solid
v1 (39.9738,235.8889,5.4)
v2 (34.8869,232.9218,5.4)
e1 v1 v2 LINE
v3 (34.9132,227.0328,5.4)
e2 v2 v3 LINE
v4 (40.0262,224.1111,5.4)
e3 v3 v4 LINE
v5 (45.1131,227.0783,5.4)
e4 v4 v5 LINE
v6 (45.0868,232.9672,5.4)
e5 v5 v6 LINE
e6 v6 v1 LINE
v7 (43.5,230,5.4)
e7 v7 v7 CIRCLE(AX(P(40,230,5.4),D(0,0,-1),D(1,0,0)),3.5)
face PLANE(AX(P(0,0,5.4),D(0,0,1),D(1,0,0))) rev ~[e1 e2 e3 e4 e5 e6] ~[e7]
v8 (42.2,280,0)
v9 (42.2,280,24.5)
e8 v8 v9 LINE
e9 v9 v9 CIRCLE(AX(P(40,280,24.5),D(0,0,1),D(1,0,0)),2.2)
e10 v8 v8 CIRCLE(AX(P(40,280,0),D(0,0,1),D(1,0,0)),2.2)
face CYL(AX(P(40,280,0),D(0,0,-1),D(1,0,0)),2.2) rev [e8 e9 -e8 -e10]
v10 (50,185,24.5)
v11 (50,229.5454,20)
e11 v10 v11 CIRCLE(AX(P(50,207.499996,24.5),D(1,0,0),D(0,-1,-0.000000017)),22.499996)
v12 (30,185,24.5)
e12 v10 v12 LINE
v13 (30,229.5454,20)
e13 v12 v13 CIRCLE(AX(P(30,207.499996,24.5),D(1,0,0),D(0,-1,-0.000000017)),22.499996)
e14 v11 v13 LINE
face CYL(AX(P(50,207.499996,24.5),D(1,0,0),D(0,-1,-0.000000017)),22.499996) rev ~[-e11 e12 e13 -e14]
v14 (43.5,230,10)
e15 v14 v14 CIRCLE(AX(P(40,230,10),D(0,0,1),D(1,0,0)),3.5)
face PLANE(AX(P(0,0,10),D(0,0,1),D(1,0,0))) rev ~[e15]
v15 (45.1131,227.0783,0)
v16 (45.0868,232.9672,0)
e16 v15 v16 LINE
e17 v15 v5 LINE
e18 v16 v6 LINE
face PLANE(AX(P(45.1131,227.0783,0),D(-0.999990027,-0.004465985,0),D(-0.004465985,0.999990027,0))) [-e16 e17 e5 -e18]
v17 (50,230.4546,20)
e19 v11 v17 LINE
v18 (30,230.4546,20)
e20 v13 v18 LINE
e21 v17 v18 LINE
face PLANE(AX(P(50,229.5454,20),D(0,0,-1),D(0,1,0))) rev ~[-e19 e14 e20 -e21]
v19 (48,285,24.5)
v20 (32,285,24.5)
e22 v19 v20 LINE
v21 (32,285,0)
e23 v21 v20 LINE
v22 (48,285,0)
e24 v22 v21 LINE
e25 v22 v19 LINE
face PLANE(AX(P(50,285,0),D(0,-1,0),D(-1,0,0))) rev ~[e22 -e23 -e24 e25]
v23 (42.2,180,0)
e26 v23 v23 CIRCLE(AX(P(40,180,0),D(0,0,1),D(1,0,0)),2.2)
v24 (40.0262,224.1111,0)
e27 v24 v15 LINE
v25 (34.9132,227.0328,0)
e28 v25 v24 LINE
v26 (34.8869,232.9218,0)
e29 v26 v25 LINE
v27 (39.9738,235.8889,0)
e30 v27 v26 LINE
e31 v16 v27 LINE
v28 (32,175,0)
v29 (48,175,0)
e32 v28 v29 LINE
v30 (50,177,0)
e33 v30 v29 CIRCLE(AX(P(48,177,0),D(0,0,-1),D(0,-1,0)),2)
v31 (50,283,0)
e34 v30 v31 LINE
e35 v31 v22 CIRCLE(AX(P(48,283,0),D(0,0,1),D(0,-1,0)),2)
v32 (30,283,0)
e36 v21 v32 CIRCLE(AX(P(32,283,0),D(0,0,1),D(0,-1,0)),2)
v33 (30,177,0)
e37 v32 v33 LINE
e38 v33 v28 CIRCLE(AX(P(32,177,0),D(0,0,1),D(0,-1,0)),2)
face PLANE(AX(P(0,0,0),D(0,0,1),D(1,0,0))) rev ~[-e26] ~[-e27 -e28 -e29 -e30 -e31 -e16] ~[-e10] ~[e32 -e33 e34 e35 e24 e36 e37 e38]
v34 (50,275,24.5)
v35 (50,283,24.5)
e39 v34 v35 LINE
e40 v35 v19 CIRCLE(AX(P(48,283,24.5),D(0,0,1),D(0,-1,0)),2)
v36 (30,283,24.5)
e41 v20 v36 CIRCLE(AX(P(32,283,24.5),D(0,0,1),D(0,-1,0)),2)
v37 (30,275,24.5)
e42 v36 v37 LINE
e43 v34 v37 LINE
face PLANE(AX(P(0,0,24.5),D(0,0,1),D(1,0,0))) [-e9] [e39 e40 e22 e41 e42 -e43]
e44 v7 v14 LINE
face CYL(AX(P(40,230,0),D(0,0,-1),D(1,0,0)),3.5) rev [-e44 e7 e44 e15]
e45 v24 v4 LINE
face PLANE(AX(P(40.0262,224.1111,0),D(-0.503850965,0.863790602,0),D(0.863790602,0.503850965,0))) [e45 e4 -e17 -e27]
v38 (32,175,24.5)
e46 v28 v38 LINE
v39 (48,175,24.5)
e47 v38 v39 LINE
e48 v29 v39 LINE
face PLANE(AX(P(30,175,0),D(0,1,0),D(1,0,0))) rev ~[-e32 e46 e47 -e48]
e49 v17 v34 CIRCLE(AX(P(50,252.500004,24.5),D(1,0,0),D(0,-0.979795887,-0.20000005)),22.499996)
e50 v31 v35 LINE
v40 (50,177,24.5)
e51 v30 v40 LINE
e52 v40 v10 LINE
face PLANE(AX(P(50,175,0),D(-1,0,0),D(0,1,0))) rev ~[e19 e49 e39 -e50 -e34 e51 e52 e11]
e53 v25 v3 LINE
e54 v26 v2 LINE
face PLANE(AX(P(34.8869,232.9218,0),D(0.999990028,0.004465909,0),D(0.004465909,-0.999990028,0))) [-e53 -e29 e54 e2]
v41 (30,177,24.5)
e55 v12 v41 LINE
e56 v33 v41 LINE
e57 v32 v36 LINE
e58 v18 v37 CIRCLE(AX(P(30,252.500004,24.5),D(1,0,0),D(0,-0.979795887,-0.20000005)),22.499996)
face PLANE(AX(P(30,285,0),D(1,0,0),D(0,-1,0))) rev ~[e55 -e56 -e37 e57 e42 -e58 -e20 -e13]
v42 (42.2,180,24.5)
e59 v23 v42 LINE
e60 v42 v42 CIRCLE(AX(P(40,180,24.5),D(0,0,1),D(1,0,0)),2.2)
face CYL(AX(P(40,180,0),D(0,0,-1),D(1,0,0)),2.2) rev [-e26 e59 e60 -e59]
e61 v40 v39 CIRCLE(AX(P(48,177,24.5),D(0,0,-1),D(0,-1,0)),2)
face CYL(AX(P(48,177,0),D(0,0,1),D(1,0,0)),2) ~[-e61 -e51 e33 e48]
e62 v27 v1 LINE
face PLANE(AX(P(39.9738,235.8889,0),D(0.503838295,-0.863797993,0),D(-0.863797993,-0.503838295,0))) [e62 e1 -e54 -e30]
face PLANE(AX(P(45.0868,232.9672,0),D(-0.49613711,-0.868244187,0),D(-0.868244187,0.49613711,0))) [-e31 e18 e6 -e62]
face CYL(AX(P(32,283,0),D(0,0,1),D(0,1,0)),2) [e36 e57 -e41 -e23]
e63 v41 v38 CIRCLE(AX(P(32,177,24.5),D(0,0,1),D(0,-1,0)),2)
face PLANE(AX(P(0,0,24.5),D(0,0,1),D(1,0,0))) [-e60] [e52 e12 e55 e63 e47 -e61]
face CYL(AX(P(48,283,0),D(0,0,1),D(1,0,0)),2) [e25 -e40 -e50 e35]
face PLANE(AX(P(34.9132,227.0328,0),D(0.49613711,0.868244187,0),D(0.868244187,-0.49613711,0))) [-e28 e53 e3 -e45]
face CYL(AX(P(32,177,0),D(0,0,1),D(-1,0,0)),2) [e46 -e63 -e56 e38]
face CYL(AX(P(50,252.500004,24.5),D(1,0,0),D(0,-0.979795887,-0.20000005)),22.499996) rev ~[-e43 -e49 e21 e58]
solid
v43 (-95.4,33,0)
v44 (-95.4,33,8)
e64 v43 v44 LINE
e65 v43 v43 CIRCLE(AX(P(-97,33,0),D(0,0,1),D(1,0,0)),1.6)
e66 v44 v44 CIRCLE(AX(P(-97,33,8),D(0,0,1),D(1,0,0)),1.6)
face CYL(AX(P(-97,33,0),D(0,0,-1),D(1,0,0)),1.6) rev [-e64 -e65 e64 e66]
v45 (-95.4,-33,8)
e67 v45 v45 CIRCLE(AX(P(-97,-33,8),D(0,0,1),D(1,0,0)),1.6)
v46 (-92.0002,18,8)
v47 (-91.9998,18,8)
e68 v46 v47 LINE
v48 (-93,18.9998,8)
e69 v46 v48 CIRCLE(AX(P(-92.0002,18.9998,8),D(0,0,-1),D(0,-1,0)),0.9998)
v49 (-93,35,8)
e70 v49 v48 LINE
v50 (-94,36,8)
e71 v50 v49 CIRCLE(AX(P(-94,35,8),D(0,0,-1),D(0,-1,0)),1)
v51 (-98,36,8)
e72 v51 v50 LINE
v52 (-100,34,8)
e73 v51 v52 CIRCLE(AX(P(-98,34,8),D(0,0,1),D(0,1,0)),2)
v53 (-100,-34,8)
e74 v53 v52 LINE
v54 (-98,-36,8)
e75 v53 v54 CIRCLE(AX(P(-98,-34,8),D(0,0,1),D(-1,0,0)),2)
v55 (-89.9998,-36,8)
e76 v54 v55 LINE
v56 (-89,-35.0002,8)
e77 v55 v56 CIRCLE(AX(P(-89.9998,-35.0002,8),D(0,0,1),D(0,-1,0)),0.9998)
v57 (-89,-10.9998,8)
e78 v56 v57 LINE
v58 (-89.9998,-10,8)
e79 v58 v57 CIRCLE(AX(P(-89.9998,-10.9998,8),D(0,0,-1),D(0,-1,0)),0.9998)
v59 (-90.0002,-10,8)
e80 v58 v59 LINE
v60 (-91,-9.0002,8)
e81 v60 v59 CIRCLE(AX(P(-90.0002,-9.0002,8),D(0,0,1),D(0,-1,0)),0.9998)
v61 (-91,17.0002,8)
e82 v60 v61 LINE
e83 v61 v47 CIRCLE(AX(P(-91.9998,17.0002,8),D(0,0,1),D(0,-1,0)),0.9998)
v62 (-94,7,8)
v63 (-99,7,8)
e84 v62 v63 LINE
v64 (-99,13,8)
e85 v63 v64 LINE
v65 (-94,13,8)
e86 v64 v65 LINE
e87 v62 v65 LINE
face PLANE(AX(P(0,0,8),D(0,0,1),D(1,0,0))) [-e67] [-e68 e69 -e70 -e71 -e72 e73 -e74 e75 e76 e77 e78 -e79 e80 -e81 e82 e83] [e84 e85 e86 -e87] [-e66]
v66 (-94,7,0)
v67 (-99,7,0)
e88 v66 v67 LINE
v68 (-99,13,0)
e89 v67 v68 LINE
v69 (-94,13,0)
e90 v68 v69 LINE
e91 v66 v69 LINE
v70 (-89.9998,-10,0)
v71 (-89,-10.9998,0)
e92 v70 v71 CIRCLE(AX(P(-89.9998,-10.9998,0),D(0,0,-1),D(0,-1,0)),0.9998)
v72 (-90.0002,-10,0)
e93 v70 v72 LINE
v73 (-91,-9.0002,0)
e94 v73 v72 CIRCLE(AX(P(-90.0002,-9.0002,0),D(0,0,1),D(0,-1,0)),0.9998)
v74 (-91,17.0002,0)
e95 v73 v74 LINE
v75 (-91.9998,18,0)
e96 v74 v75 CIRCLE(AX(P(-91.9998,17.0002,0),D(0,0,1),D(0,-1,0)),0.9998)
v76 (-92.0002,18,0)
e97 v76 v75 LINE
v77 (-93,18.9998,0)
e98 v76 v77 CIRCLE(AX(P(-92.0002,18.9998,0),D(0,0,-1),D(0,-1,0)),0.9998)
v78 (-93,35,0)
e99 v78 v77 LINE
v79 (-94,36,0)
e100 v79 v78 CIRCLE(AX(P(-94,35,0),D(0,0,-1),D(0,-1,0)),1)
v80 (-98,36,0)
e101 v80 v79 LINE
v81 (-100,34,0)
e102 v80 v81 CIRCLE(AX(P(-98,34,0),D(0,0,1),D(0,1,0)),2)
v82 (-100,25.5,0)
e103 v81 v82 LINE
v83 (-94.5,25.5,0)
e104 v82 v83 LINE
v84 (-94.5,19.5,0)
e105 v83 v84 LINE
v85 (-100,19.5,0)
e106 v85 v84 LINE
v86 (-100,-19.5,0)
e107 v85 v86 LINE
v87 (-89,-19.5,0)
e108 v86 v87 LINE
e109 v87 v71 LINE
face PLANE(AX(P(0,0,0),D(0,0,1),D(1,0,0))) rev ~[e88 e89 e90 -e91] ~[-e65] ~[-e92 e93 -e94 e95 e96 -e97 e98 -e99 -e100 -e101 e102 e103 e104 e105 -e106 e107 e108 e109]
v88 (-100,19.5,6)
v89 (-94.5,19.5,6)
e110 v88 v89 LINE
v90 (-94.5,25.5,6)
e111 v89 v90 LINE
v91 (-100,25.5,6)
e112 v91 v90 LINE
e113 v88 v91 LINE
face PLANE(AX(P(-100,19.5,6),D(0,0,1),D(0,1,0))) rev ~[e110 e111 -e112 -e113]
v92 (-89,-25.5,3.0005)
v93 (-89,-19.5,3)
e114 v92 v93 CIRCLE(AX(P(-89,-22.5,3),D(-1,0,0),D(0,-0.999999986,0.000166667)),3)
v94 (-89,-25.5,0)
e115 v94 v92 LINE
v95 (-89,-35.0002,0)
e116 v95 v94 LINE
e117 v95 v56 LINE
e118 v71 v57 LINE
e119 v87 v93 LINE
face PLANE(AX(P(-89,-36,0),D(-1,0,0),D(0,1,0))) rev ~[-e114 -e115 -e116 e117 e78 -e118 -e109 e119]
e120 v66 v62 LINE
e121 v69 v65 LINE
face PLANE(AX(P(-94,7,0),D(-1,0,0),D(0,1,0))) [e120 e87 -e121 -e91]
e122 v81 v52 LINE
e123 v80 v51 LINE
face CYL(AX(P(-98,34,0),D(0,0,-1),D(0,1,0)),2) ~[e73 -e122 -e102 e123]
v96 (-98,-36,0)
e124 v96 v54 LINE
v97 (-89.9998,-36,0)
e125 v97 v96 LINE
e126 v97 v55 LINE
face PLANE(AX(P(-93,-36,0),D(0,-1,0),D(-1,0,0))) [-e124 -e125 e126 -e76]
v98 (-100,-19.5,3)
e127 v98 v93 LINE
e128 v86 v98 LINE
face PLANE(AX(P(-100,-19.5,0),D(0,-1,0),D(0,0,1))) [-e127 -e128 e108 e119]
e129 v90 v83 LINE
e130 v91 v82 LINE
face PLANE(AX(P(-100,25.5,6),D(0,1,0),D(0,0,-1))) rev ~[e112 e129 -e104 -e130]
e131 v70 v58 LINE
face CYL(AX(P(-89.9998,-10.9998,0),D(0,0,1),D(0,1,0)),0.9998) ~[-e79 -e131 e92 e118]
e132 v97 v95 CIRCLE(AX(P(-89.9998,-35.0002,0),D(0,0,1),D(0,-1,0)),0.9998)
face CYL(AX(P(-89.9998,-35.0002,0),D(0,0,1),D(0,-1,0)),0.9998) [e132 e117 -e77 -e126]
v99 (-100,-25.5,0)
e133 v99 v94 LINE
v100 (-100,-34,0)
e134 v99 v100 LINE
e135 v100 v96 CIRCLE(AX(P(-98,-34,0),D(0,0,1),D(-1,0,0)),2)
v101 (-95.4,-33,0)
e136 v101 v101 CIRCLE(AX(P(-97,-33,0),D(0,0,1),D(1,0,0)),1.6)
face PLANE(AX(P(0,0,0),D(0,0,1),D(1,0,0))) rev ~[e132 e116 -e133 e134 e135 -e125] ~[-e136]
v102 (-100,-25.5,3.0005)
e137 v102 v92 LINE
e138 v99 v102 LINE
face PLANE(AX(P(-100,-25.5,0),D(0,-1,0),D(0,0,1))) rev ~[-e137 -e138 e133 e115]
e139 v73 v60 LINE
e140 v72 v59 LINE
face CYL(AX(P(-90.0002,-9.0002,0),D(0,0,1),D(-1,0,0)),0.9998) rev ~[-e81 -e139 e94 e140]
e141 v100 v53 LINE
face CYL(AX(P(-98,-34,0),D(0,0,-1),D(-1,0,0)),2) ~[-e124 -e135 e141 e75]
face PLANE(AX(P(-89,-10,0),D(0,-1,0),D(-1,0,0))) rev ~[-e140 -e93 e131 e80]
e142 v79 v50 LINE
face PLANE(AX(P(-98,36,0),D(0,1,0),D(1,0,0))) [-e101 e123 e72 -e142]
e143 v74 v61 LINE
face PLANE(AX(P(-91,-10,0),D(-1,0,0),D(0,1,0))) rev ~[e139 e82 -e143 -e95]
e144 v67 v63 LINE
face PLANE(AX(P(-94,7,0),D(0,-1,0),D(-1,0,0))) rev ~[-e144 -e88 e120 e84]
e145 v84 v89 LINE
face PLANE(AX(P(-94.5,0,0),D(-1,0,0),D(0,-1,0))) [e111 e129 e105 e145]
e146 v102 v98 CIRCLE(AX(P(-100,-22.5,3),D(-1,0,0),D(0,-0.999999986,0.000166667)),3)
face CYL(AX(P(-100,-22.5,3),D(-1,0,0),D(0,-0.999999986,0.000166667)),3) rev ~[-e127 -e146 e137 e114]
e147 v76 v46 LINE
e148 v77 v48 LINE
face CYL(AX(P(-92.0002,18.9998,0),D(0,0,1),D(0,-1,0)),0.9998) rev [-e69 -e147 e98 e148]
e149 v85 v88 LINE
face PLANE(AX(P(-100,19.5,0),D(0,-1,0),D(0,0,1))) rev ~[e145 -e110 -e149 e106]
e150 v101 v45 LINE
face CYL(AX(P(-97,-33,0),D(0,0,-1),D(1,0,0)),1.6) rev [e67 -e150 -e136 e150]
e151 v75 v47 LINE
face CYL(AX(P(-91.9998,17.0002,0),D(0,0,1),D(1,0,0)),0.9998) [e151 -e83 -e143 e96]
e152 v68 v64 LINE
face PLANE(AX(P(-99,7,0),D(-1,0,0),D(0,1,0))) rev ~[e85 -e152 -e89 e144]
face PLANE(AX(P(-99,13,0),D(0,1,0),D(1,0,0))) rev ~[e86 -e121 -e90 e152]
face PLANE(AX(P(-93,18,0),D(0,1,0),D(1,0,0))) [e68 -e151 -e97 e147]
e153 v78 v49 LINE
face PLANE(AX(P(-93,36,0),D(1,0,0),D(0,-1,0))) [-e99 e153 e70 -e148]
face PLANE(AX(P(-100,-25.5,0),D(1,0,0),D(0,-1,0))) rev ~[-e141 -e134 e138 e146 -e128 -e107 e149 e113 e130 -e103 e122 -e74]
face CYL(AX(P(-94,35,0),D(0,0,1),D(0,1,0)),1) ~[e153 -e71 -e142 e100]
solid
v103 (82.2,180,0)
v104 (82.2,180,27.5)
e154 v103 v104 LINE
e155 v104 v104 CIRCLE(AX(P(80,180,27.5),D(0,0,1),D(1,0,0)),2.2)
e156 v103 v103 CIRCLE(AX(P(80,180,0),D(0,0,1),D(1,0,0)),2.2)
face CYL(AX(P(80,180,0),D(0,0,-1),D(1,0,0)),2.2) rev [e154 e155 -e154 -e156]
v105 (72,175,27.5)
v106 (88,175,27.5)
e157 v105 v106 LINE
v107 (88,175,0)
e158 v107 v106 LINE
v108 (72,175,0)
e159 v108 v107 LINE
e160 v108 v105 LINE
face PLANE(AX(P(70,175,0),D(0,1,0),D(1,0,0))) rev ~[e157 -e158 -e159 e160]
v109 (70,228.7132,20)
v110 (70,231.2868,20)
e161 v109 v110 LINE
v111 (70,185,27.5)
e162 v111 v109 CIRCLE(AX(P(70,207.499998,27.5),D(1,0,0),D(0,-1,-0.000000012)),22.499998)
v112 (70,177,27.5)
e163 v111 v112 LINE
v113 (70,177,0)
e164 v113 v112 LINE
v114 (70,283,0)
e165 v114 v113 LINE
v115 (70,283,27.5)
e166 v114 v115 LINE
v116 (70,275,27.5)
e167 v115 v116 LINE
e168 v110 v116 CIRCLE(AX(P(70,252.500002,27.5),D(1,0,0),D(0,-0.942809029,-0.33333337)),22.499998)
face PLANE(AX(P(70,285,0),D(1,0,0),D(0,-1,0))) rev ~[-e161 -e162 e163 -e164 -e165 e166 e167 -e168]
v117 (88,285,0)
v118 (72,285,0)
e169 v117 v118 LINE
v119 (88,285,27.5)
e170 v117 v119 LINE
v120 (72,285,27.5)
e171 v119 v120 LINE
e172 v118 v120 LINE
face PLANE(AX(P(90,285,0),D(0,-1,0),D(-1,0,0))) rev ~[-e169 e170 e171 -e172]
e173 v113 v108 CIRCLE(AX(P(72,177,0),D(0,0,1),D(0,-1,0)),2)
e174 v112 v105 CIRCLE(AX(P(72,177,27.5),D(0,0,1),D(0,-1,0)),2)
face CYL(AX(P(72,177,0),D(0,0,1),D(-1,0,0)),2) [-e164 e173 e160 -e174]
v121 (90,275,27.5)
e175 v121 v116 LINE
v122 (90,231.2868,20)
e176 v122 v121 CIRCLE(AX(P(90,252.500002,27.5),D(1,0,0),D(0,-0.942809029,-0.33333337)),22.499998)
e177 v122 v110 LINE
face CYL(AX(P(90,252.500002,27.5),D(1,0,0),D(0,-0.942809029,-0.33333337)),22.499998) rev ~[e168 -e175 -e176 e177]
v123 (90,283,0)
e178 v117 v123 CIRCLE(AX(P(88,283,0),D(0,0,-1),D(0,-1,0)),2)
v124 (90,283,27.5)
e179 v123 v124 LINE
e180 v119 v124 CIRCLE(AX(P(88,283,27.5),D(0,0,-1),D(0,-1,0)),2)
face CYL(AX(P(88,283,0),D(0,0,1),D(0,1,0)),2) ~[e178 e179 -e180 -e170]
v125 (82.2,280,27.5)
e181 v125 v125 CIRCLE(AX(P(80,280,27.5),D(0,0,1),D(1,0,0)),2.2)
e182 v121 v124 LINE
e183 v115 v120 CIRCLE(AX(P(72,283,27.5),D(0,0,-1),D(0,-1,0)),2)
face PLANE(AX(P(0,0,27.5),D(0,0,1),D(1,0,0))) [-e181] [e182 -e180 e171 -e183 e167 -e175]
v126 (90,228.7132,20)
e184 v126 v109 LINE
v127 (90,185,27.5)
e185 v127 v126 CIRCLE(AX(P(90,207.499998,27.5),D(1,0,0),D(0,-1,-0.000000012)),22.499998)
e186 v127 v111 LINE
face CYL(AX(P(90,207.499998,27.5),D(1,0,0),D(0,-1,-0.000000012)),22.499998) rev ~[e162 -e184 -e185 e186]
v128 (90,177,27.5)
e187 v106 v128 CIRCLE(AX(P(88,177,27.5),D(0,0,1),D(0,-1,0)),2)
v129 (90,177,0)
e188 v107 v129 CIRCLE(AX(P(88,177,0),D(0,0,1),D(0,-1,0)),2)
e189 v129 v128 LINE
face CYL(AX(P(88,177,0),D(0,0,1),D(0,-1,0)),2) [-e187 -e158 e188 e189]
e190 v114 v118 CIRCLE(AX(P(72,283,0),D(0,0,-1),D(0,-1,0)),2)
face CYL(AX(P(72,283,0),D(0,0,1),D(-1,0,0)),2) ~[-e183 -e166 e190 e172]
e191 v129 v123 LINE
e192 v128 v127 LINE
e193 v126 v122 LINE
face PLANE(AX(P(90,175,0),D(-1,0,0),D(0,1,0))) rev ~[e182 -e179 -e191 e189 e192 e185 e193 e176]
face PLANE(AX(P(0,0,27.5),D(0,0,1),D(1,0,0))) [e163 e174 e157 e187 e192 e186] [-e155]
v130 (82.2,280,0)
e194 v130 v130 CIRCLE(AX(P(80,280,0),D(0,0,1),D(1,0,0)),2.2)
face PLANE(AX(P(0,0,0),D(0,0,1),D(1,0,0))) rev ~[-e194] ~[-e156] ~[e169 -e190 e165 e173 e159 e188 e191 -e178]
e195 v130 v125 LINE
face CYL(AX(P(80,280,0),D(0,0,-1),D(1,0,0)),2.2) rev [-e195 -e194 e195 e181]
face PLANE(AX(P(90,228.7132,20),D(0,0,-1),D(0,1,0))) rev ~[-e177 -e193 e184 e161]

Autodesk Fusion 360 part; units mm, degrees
sketch "スケッチ1" plane through (0, 0, 0) normal (0, 0, 1) x (1, 0, 0)
  line L0 (21.5, 36) -> (-21.5, 36)
  line L1 (-23.5, 34) -> (-23.5, -34)
  line L2 (-21.5, -36) -> (21.5, -36)
  circle A0 centre (-20.5, -33) radius 1.6
  circle A1 centre (20.5, -33) radius 1.6
  arc A2 (-23.5, -34) -> (-21.5, -36) centre (-21.5, -34) ccw
  arc A3 (-21.5, 36) -> (-23.5, 34) centre (-21.5, 34) ccw
  arc A4 (23.5, 34) -> (21.5, 36) centre (21.5, 34) ccw
  arc A5 (21.5, -36) -> (23.5, -34) centre (21.5, -34) ccw
  line L3 (21.5, -15) -> (16, -15)
  line L4 (23.5, -34) -> (23.5, -17)
  arc A6 (15.5314, -14.9843) -> (16, -15) centre (16, -8) ccw
  arc A7 (23.5, -17) -> (21.5, -15) centre (21.5, -17) ccw
  arc A8 (21.5, -1) -> (22.3523, -0.8093) centre (21.5, 1) ccw
  line L5 (6, -6) -> (6, 10)
  line L6 (15, 19) -> (21.5, 19)
  line L7 (23.5, 21) -> (23.5, 34)
  arc A9 (6, -6) -> (15.5314, -14.9843) centre (15, -6) ccw
  arc A10 (15, 19) -> (6, 10) centre (15, 10) ccw
  arc A11 (21.5, 19) -> (23.5, 21) centre (21.5, 21) ccw
  line L8 (30, 34) -> (30, -34)
  line L9 (32, -36) -> (75, -36)
  arc A12 (32, 36) -> (30, 34) centre (32, 34) ccw
  arc A13 (30, -34) -> (32, -36) centre (32, -34) ccw
  circle A14 centre (33, -33) radius 1.6
  line L10 (77, 21) -> (77, 34)
  arc A15 (77, 34) -> (75, 36) centre (75, 34) ccw
  line L11 (77, -34) -> (77, 21)
  circle A16 centre (74, -33) radius 1.6
  line L12 (75, 36) -> (32, 36)
  arc A17 (75, -36) -> (77, -34) centre (75, -34) ccw
  line L13 (81.5, 34) -> (81.5, -34)
  arc A18 (126.5, -36) -> (128.5, -34) centre (126.5, -34) ccw
  line L14 (83.5, -36) -> (126.5, -36)
  arc A19 (81.5, -34) -> (83.5, -36) centre (83.5, -34) ccw
  line L15 (126.5, 36) -> (83.5, 36)
  arc A20 (128.5, 34) -> (126.5, 36) centre (126.5, 34) ccw
  circle A21 centre (125.5, -33) radius 1.6
  arc A22 (83.5, 36) -> (81.5, 34) centre (83.5, 34) ccw
  circle A23 centre (84.5, -33) radius 1.6
  line L16 (128.5, 21) -> (128.5, 34)
  line L17 (128.5, -34) -> (128.5, 21)
  circle A24 centre (90, 0) radius 1.6
  circle A25 centre (120, 0) radius 1.6
  arc A26 (-73.5, -34) -> (-71.5, -36) centre (-71.5, -34) ccw
  circle A27 centre (-70.5, -33) radius 1.6
  line L18 (-73.5, 34) -> (-73.5, -34)
  arc A28 (-71.5, 36) -> (-73.5, 34) centre (-71.5, 34) ccw
  line L19 (-35, 19) -> (-28.5, 19)
  arc A29 (-28.5, 19) -> (-26.5, 21) centre (-28.5, 21) ccw
  line L20 (-44, -10) -> (-44, 10)
  circle A30 centre (-29.5, -33) radius 1.6
  arc A31 (-28.5, -36) -> (-26.5, -34) centre (-28.5, -34) ccw
  line L21 (-26.5, -34) -> (-26.5, -21)
  arc A32 (-26.5, 34) -> (-28.5, 36) centre (-28.5, 34) ccw
  arc A33 (-28.5, -1) -> (-27.6477, -0.8093) centre (-28.5, 1) ccw
  circle A34 centre (-29.5, 33) radius 1.6
  line L22 (-26.5, 21) -> (-26.5, 34)
  arc A35 (-35, 19) -> (-44, 10) centre (-35, 10) ccw
  line L23 (-71.5, -36) -> (-28.5, -36)
  line L24 (-28.5, 36) -> (-71.5, 36)
  line L25 (-62.5, 28.5) -> (-53, 28.5)
  line L26 (-48.5, 24.0011) -> (-48.5, 23.9989)
  line L27 (-53, 19.5) -> (-62.5, 19.5)
  arc A36 (-62.5, 28.5) -> (-62.5, 19.5) centre (-62.5, 24) ccw
  arc A37 (-53.0011, 19.5) -> (-53, 28.5) centre (-53, 24) ccw
  circle A38 centre (-20.5, 33) radius 1.6
  circle A39 centre (20.5, 33) radius 1.6
  circle A40 centre (-70.5, 33) radius 1.6
  circle A41 centre (33, 33) radius 1.6
  circle A42 centre (74, 33) radius 1.6
  circle A43 centre (84.5, 33) radius 1.6
  circle A44 centre (125.5, 33) radius 1.6
  circle A45 centre (-97, 33) radius 1.6
  arc A46 (-100, -34) -> (-98, -36) centre (-98, -34) ccw
  circle A47 centre (-97, -33) radius 1.6
  arc A48 (-98, 36) -> (-100, 34) centre (-98, 34) ccw
  line L28 (-93, 36) -> (-93, 18)
  line L29 (-93, -36) -> (-98, -36)
  line L30 (-98, 36) -> (-93, 36)
  line L31 (-95, 25.5) -> (-100, 25.5)
  line L32 (-100, 19.5) -> (-95, 19.5)
  line L33 (-95, 19.5) -> (-95, 25.5)
  line L34 (-100, 34) -> (-100, 25.5)
  line L35 (-99, 13) -> (-94, 13)
  line L36 (-94, 7) -> (-99, 7)
  line L37 (-99, 7) -> (-99, 13)
  line L38 (-94, 7) -> (-94, 13)
  line L39 (-93, -36) -> (-91, -36)
  line L40 (-91, -10) -> (-91, 18)
  line L41 (-93, 18) -> (-91, 18)
  line L42 (-89, -10) -> (-91, -10)
  line L43 (-91, -36) -> (-89, -36)
  line L44 (-89, -36) -> (-89, -10)
  line L45 (-91, -19.5) -> (-100, -19.5)
  line L46 (-100, -25.5) -> (-91, -25.5)
  line L47 (-91, -25.5) -> (-91, -19.5)
  line L48 (-100, 19.5) -> (-100, -19.5)
  line L49 (-100, -25.5) -> (-100, -34)
  line L50 (-100, -25.5) -> (-100, -19.5)
  line L51 (-100, 19.5) -> (-100, 25.5)
  arc A49 (-44, -10) -> (-35, -19) centre (-35, -10) ccw
  line L52 (-35, -19) -> (-28.5, -19)
  arc A50 (-26.5, -21) -> (-28.5, -19) centre (-28.5, -21) ccw
  circle A51 centre (90, 100) radius 1.6
  circle A52 centre (125.5, 133) radius 1.6
  circle A53 centre (84.5, 133) radius 1.6
  circle A54 centre (84.5, 67) radius 1.6
  circle A55 centre (120, 100) radius 1.6
  circle A56 centre (125.5, 67) radius 1.6
  line L53 (3, 45) -> (137, 45)
  line L54 (140, 48) -> (140, 152)
  line L55 (137, 155) -> (3, 155)
  line L56 (0, 152) -> (0, 48)
  circle A57 centre (60, 50) radius 2.1
  circle A58 centre (60, 150) radius 2.1
  arc A59 (0, 48) -> (3, 45) centre (3, 48) ccw
  arc A60 (3, 155) -> (0, 152) centre (3, 152) ccw
  arc A61 (140, 152) -> (137, 155) centre (137, 152) ccw
  arc A62 (137, 45) -> (140, 48) centre (137, 48) ccw
  circle A63 centre (40, 180) radius 2.2
  line L57 (30, 285) -> (30, 175)
  line L58 (30, 175) -> (50, 175)
  line L59 (50, 285) -> (30, 285)
  circle A64 centre (40, 280) radius 2.2
  line L60 (50, 175) -> (50, 285)
  line L61 (39.9738, 235.8889) -> (34.8869, 232.9218)
  line L62 (34.8869, 232.9218) -> (34.9132, 227.0328)
  line L63 (34.9132, 227.0328) -> (40.0262, 224.1111)
  line L64 (40.0262, 224.1111) -> (45.1131, 227.0783)
  line L65 (45.1131, 227.0783) -> (45.0868, 232.9672)
  line L66 (45.0868, 232.9672) -> (39.9738, 235.8889)
  circle A65 centre (40, 230) radius 3.5
  line L67 (70, 175) -> (90, 175)
  line L68 (90, 175) -> (90, 285)
  line L69 (70, 285) -> (70, 175)
  line L70 (90, 285) -> (70, 285)
  circle A66 centre (80, 280) radius 2.2
  circle A67 centre (80, 180) radius 2.2
  circle A68 centre (60, 100) radius 3.5
  point P0 (-25, -37.5)
  point P1 (-25, 37.5)
  point P2 (25, 37.5)
  point P3 (-23.5, 36)
  point P4 (-23.5, -36)
  point P5 (23.5, -36)
  point P6 (80, 37.5)
  point P7 (53.5, 0)
  point P8 (53.5, 0)
  point P9 (53.5, 0)
  point P10 (28.5, -37.5)
  point P11 (30, 37.485)
  point P12 (30, 36)
  point P13 (30, -36)
  point P14 (53.5, 0)
  point P15 (77, -36)
  point P16 (81.5, -36)
  point P17 (128.5, -36)
  point P18 (105, 0)
  point P19 (80, -37.5)
  point P20 (81.5, 36)
  point P21 (105, 0)
  point P22 (105, 0)
  point P23 (105, 0)
  point P24 (80, 37.5)
  point P25 (130, 37.5)
  point P26 (105, 0)
  point P27 (-73.5, -36)
  point P28 (-26.5, -36)
  point P29 (-73.5, 36)
  point P30 (-75, -37.5)
  point P31 (-25, 37.5)
  point P32 (-75, 37.5)
  point P33 (-21.5, 34)
  point P34 (21.5, 34)
  point P35 (-71.5, 34)
  point P36 (-28.5, 34)
  point P37 (32, 34)
  point P38 (75, 34)
  point P39 (32, 34)
  point P40 (75, 34)
  point P41 (83.5, 34)
  point P42 (126.5, 34)
  point P43 (83.5, 34)
  point P44 (126.5, 34)
  point P45 (-100, -36)
  point P46 (-101.5, -37.5)
  point P47 (-100, 36)
  point P48 (-101.5, 37.5)
  point P49 (-98, 34)
  point P50 (126.5, 134)
  point P51 (83.5, 134)
  point P52 (105, 100)
  point P53 (128.5, 64)
  point P54 (126.5, 134)
  point P55 (81.5, 64)
  point P56 (83.5, 134)
  point P57 (80, 137.5)
  point P58 (105, 100)
  point P59 (80, 62.5)
  point P60 (81.5, 136)
  point P61 (105, 100)
  point P62 (80, 137.5)
  point P63 (130, 137.5)
  point P64 (105, 100)
  point P65 (105, 100)
  point P66 (65, 100)
  point P67 (50, 45)
  point P68 (30, 175)
  point P69 (40, 230)
  point P70 (70, 175)
  dimension "d3" = 50
  dimension "d4" = 75
  dimension "d36" = 47
  dimension "d37" = 72
  dimension "d38" = 3.2
  dimension "d40" = 2
  dimension "d43" = 14
  dimension "d44" = 2
  dimension "d48" = 18
  dimension "d49" = 2
  dimension "d50" = 50
  dimension "d51" = 75
  dimension "d52" = 47
  dimension "d53" = 72
  dimension "d54" = 3.2
  dimension "d56" = 2
  dimension "d61" = 50
  dimension "d62" = 75
  dimension "d63" = 47
  dimension "d64" = 72
  dimension "d65" = 3.2
  dimension "d67" = 2
  dimension "d69" = 3.2
  dimension "d70" = 3.2
  dimension "d71" = 50
  dimension "d72" = 75
  dimension "d73" = 47
  dimension "d74" = 72
  dimension "d75" = 3.2
  dimension "d77" = 2
  dimension "d81" = 2
  dimension "d82" = 9
  dimension "d83" = 9
  dimension "d86" = 3.2
  dimension "d87" = 3.2
  dimension "d88" = 3.2
  dimension "d89" = 3.2
  dimension "d90" = 75
  dimension "d91" = 72
  dimension "d92" = 3.2
  dimension "d94" = 2
  dimension "d95" = 3.2
  dimension "d96" = 6
  dimension "d113" = 50
  dimension "d114" = 75
  dimension "d115" = 47
  dimension "d116" = 72
  dimension "d117" = 3.2
  dimension "d119" = 3.2
  dimension "d120" = 3.2
  dimension "d121" = 3.2
  dimension "d128" = 4.2
  dimension "d129" = 4.2
  dimension "d130" = 3
  dimension "d131" = 20
  dimension "d132" = 110
  dimension "d133" = 4.4
  dimension "d134" = 4.4
  dimension "d136" = 5.1
  dimension "d146" = 7
  dimension "d151" = 20
  dimension "d152" = 110
  dimension "d153" = 4.4
  dimension "d154" = 4.4
  dimension "d165" = 7
extrude "押し出し1" add sketch "スケッチ1" along normal blind 8 contours A46 A48 L28 L29 L30 L31 L32 L33 L34 L39 L40 L41 L42 L43 L44 L45 L46 L47 L48 L49 | L45 L46 L47 L50 | L31 L32 L33 L51 | L35 L36 L37 L38 makes body 1
sketch "スケッチ2" plane through (-100, 0, 0) normal (-1, 0, 0) x (0, -1, 0)
  line L0 (-34, 0) -> (34, 0)
  line L1 (34, 0) -> (34, 8)
  line L2 (34, 8) -> (-34, 8)
  line L3 (-34, 8) -> (-34, 0)
  line L4 (-19.5, 6) -> (-25.5, 6)
  line L5 (-25.5, 6) -> (-25.5, 0)
  line L6 (-25.5, 0) -> (-19.5, 0)
  line L7 (-19.5, 0) -> (-19.5, 6)
  line L8 (19.5, 0) -> (19.5, 3)
  line L9 (25.5, 0) -> (25.5, 3.0005)
  arc A0 (25.5, 2.9995) -> (19.5, 3) centre (22.5, 3) ccw
  line L10 (19.5, 0) -> (25.5, 0)
  point P0 (19.5, 0)
  point P1 (25.5, 0)
  dimension "d99" = 6
  dimension "d100" = 6
extrude "押し出し2" cut sketch "スケッチ2" against normal blind 5.5 contours L0 L4 L5 L6 L7 bodies 1
extrude "押し出し3" cut sketch "スケッチ2" against normal blind 11 contours L0 L8 L9 A0 L10 bodies 1
extrude "押し出し4" cut sketch "スケッチ1" along normal blind 8 contours L35 L36 L37 L38 bodies 1
fillet "フィレット1" radius 1 1 edges at (-93, 36, 4) on bodies 1
fillet "フィレット2" radius 1 3 edges at (-89, -36, 4) (-89, -10, 4) (-91, -10, 4) on bodies 1
fillet "フィレット3" radius 1 2 edges at (-91, 18, 4) (-93, 18, 4) on bodies 1
extrude "押し出し5" add sketch "スケッチ1" along normal blind 24.5 separate body contours L57 L58 L59 L60 makes body 2
sketch "スケッチ3" plane through (50, 0, 0) normal (1, 0, 0) x (0, 1, 0)
  line L0 (175, 0) -> (285, 0)
  line L1 (285, 0) -> (285, 24.5)
  line L2 (285, 24.5) -> (175, 24.5)
  line L3 (175, 24.5) -> (175, 0)
  arc A0 (185, 24.5) -> (229.5454, 20) centre (207.5, 24.5) ccw
  arc A1 (230.4546, 20) -> (275, 24.5) centre (252.5, 24.5) ccw
  line L4 (229.5454, 20) -> (230.4546, 20)
  point P0 (230, 15)
  dimension "d140" = 45
  dimension "d141" = 45
extrude "押し出し6" add sketch "スケッチ1" along normal blind 24.5 contours L61 L62 L63 L64 L65 L66 | A65 bodies 2
extrude "押し出し7" cut sketch "スケッチ1" along normal blind 5.4 contours L61 L62 L63 L64 L65 L66 | A65 bodies 2
extrude "押し出し8" cut sketch "スケッチ1" along normal blind 10 contours A65 bodies 2
extrude "押し出し9" cut sketch "スケッチ3" against normal blind 20 contours L2 A0 A1 L4 bodies 2
extrude "押し出し10" add sketch "スケッチ1" along normal blind 27.5 separate body contours L67 L68 L69 L70 makes body 3
sketch "スケッチ4" plane through (90, 0, 0) normal (1, 0, 0) x (0, 1, 0)
  line L0 (175, 0) -> (285, 0)
  line L1 (285, 0) -> (285, 27.5)
  line L2 (285, 27.5) -> (175, 27.5)
  line L3 (175, 27.5) -> (175, 0)
  line L4 (228.7132, 20) -> (231.2868, 20)
  arc A0 (185, 27.5) -> (228.7132, 20) centre (207.5, 27.5) ccw
  arc A1 (231.2868, 20) -> (275, 27.5) centre (252.5, 27.5) ccw
  point P0 (230, 14.9867)
  dimension "d161" = 45
  dimension "d162" = 45
extrude "押し出し11" cut sketch "スケッチ4" against normal blind 20 contours L2 L4 A0 A1 bodies 3
fillet "フィレット4" radius 2 4 edges at (30, 175, 12.25) (50, 175, 12.25) (70, 175, 13.75) (90, 175, 13.75) on bodies 2 3
fillet "フィレット5" radius 2 4 edges at (50, 285, 12.25) (30, 285, 12.25) (90, 285, 13.75) (70, 285, 13.75) on bodies 2 3
